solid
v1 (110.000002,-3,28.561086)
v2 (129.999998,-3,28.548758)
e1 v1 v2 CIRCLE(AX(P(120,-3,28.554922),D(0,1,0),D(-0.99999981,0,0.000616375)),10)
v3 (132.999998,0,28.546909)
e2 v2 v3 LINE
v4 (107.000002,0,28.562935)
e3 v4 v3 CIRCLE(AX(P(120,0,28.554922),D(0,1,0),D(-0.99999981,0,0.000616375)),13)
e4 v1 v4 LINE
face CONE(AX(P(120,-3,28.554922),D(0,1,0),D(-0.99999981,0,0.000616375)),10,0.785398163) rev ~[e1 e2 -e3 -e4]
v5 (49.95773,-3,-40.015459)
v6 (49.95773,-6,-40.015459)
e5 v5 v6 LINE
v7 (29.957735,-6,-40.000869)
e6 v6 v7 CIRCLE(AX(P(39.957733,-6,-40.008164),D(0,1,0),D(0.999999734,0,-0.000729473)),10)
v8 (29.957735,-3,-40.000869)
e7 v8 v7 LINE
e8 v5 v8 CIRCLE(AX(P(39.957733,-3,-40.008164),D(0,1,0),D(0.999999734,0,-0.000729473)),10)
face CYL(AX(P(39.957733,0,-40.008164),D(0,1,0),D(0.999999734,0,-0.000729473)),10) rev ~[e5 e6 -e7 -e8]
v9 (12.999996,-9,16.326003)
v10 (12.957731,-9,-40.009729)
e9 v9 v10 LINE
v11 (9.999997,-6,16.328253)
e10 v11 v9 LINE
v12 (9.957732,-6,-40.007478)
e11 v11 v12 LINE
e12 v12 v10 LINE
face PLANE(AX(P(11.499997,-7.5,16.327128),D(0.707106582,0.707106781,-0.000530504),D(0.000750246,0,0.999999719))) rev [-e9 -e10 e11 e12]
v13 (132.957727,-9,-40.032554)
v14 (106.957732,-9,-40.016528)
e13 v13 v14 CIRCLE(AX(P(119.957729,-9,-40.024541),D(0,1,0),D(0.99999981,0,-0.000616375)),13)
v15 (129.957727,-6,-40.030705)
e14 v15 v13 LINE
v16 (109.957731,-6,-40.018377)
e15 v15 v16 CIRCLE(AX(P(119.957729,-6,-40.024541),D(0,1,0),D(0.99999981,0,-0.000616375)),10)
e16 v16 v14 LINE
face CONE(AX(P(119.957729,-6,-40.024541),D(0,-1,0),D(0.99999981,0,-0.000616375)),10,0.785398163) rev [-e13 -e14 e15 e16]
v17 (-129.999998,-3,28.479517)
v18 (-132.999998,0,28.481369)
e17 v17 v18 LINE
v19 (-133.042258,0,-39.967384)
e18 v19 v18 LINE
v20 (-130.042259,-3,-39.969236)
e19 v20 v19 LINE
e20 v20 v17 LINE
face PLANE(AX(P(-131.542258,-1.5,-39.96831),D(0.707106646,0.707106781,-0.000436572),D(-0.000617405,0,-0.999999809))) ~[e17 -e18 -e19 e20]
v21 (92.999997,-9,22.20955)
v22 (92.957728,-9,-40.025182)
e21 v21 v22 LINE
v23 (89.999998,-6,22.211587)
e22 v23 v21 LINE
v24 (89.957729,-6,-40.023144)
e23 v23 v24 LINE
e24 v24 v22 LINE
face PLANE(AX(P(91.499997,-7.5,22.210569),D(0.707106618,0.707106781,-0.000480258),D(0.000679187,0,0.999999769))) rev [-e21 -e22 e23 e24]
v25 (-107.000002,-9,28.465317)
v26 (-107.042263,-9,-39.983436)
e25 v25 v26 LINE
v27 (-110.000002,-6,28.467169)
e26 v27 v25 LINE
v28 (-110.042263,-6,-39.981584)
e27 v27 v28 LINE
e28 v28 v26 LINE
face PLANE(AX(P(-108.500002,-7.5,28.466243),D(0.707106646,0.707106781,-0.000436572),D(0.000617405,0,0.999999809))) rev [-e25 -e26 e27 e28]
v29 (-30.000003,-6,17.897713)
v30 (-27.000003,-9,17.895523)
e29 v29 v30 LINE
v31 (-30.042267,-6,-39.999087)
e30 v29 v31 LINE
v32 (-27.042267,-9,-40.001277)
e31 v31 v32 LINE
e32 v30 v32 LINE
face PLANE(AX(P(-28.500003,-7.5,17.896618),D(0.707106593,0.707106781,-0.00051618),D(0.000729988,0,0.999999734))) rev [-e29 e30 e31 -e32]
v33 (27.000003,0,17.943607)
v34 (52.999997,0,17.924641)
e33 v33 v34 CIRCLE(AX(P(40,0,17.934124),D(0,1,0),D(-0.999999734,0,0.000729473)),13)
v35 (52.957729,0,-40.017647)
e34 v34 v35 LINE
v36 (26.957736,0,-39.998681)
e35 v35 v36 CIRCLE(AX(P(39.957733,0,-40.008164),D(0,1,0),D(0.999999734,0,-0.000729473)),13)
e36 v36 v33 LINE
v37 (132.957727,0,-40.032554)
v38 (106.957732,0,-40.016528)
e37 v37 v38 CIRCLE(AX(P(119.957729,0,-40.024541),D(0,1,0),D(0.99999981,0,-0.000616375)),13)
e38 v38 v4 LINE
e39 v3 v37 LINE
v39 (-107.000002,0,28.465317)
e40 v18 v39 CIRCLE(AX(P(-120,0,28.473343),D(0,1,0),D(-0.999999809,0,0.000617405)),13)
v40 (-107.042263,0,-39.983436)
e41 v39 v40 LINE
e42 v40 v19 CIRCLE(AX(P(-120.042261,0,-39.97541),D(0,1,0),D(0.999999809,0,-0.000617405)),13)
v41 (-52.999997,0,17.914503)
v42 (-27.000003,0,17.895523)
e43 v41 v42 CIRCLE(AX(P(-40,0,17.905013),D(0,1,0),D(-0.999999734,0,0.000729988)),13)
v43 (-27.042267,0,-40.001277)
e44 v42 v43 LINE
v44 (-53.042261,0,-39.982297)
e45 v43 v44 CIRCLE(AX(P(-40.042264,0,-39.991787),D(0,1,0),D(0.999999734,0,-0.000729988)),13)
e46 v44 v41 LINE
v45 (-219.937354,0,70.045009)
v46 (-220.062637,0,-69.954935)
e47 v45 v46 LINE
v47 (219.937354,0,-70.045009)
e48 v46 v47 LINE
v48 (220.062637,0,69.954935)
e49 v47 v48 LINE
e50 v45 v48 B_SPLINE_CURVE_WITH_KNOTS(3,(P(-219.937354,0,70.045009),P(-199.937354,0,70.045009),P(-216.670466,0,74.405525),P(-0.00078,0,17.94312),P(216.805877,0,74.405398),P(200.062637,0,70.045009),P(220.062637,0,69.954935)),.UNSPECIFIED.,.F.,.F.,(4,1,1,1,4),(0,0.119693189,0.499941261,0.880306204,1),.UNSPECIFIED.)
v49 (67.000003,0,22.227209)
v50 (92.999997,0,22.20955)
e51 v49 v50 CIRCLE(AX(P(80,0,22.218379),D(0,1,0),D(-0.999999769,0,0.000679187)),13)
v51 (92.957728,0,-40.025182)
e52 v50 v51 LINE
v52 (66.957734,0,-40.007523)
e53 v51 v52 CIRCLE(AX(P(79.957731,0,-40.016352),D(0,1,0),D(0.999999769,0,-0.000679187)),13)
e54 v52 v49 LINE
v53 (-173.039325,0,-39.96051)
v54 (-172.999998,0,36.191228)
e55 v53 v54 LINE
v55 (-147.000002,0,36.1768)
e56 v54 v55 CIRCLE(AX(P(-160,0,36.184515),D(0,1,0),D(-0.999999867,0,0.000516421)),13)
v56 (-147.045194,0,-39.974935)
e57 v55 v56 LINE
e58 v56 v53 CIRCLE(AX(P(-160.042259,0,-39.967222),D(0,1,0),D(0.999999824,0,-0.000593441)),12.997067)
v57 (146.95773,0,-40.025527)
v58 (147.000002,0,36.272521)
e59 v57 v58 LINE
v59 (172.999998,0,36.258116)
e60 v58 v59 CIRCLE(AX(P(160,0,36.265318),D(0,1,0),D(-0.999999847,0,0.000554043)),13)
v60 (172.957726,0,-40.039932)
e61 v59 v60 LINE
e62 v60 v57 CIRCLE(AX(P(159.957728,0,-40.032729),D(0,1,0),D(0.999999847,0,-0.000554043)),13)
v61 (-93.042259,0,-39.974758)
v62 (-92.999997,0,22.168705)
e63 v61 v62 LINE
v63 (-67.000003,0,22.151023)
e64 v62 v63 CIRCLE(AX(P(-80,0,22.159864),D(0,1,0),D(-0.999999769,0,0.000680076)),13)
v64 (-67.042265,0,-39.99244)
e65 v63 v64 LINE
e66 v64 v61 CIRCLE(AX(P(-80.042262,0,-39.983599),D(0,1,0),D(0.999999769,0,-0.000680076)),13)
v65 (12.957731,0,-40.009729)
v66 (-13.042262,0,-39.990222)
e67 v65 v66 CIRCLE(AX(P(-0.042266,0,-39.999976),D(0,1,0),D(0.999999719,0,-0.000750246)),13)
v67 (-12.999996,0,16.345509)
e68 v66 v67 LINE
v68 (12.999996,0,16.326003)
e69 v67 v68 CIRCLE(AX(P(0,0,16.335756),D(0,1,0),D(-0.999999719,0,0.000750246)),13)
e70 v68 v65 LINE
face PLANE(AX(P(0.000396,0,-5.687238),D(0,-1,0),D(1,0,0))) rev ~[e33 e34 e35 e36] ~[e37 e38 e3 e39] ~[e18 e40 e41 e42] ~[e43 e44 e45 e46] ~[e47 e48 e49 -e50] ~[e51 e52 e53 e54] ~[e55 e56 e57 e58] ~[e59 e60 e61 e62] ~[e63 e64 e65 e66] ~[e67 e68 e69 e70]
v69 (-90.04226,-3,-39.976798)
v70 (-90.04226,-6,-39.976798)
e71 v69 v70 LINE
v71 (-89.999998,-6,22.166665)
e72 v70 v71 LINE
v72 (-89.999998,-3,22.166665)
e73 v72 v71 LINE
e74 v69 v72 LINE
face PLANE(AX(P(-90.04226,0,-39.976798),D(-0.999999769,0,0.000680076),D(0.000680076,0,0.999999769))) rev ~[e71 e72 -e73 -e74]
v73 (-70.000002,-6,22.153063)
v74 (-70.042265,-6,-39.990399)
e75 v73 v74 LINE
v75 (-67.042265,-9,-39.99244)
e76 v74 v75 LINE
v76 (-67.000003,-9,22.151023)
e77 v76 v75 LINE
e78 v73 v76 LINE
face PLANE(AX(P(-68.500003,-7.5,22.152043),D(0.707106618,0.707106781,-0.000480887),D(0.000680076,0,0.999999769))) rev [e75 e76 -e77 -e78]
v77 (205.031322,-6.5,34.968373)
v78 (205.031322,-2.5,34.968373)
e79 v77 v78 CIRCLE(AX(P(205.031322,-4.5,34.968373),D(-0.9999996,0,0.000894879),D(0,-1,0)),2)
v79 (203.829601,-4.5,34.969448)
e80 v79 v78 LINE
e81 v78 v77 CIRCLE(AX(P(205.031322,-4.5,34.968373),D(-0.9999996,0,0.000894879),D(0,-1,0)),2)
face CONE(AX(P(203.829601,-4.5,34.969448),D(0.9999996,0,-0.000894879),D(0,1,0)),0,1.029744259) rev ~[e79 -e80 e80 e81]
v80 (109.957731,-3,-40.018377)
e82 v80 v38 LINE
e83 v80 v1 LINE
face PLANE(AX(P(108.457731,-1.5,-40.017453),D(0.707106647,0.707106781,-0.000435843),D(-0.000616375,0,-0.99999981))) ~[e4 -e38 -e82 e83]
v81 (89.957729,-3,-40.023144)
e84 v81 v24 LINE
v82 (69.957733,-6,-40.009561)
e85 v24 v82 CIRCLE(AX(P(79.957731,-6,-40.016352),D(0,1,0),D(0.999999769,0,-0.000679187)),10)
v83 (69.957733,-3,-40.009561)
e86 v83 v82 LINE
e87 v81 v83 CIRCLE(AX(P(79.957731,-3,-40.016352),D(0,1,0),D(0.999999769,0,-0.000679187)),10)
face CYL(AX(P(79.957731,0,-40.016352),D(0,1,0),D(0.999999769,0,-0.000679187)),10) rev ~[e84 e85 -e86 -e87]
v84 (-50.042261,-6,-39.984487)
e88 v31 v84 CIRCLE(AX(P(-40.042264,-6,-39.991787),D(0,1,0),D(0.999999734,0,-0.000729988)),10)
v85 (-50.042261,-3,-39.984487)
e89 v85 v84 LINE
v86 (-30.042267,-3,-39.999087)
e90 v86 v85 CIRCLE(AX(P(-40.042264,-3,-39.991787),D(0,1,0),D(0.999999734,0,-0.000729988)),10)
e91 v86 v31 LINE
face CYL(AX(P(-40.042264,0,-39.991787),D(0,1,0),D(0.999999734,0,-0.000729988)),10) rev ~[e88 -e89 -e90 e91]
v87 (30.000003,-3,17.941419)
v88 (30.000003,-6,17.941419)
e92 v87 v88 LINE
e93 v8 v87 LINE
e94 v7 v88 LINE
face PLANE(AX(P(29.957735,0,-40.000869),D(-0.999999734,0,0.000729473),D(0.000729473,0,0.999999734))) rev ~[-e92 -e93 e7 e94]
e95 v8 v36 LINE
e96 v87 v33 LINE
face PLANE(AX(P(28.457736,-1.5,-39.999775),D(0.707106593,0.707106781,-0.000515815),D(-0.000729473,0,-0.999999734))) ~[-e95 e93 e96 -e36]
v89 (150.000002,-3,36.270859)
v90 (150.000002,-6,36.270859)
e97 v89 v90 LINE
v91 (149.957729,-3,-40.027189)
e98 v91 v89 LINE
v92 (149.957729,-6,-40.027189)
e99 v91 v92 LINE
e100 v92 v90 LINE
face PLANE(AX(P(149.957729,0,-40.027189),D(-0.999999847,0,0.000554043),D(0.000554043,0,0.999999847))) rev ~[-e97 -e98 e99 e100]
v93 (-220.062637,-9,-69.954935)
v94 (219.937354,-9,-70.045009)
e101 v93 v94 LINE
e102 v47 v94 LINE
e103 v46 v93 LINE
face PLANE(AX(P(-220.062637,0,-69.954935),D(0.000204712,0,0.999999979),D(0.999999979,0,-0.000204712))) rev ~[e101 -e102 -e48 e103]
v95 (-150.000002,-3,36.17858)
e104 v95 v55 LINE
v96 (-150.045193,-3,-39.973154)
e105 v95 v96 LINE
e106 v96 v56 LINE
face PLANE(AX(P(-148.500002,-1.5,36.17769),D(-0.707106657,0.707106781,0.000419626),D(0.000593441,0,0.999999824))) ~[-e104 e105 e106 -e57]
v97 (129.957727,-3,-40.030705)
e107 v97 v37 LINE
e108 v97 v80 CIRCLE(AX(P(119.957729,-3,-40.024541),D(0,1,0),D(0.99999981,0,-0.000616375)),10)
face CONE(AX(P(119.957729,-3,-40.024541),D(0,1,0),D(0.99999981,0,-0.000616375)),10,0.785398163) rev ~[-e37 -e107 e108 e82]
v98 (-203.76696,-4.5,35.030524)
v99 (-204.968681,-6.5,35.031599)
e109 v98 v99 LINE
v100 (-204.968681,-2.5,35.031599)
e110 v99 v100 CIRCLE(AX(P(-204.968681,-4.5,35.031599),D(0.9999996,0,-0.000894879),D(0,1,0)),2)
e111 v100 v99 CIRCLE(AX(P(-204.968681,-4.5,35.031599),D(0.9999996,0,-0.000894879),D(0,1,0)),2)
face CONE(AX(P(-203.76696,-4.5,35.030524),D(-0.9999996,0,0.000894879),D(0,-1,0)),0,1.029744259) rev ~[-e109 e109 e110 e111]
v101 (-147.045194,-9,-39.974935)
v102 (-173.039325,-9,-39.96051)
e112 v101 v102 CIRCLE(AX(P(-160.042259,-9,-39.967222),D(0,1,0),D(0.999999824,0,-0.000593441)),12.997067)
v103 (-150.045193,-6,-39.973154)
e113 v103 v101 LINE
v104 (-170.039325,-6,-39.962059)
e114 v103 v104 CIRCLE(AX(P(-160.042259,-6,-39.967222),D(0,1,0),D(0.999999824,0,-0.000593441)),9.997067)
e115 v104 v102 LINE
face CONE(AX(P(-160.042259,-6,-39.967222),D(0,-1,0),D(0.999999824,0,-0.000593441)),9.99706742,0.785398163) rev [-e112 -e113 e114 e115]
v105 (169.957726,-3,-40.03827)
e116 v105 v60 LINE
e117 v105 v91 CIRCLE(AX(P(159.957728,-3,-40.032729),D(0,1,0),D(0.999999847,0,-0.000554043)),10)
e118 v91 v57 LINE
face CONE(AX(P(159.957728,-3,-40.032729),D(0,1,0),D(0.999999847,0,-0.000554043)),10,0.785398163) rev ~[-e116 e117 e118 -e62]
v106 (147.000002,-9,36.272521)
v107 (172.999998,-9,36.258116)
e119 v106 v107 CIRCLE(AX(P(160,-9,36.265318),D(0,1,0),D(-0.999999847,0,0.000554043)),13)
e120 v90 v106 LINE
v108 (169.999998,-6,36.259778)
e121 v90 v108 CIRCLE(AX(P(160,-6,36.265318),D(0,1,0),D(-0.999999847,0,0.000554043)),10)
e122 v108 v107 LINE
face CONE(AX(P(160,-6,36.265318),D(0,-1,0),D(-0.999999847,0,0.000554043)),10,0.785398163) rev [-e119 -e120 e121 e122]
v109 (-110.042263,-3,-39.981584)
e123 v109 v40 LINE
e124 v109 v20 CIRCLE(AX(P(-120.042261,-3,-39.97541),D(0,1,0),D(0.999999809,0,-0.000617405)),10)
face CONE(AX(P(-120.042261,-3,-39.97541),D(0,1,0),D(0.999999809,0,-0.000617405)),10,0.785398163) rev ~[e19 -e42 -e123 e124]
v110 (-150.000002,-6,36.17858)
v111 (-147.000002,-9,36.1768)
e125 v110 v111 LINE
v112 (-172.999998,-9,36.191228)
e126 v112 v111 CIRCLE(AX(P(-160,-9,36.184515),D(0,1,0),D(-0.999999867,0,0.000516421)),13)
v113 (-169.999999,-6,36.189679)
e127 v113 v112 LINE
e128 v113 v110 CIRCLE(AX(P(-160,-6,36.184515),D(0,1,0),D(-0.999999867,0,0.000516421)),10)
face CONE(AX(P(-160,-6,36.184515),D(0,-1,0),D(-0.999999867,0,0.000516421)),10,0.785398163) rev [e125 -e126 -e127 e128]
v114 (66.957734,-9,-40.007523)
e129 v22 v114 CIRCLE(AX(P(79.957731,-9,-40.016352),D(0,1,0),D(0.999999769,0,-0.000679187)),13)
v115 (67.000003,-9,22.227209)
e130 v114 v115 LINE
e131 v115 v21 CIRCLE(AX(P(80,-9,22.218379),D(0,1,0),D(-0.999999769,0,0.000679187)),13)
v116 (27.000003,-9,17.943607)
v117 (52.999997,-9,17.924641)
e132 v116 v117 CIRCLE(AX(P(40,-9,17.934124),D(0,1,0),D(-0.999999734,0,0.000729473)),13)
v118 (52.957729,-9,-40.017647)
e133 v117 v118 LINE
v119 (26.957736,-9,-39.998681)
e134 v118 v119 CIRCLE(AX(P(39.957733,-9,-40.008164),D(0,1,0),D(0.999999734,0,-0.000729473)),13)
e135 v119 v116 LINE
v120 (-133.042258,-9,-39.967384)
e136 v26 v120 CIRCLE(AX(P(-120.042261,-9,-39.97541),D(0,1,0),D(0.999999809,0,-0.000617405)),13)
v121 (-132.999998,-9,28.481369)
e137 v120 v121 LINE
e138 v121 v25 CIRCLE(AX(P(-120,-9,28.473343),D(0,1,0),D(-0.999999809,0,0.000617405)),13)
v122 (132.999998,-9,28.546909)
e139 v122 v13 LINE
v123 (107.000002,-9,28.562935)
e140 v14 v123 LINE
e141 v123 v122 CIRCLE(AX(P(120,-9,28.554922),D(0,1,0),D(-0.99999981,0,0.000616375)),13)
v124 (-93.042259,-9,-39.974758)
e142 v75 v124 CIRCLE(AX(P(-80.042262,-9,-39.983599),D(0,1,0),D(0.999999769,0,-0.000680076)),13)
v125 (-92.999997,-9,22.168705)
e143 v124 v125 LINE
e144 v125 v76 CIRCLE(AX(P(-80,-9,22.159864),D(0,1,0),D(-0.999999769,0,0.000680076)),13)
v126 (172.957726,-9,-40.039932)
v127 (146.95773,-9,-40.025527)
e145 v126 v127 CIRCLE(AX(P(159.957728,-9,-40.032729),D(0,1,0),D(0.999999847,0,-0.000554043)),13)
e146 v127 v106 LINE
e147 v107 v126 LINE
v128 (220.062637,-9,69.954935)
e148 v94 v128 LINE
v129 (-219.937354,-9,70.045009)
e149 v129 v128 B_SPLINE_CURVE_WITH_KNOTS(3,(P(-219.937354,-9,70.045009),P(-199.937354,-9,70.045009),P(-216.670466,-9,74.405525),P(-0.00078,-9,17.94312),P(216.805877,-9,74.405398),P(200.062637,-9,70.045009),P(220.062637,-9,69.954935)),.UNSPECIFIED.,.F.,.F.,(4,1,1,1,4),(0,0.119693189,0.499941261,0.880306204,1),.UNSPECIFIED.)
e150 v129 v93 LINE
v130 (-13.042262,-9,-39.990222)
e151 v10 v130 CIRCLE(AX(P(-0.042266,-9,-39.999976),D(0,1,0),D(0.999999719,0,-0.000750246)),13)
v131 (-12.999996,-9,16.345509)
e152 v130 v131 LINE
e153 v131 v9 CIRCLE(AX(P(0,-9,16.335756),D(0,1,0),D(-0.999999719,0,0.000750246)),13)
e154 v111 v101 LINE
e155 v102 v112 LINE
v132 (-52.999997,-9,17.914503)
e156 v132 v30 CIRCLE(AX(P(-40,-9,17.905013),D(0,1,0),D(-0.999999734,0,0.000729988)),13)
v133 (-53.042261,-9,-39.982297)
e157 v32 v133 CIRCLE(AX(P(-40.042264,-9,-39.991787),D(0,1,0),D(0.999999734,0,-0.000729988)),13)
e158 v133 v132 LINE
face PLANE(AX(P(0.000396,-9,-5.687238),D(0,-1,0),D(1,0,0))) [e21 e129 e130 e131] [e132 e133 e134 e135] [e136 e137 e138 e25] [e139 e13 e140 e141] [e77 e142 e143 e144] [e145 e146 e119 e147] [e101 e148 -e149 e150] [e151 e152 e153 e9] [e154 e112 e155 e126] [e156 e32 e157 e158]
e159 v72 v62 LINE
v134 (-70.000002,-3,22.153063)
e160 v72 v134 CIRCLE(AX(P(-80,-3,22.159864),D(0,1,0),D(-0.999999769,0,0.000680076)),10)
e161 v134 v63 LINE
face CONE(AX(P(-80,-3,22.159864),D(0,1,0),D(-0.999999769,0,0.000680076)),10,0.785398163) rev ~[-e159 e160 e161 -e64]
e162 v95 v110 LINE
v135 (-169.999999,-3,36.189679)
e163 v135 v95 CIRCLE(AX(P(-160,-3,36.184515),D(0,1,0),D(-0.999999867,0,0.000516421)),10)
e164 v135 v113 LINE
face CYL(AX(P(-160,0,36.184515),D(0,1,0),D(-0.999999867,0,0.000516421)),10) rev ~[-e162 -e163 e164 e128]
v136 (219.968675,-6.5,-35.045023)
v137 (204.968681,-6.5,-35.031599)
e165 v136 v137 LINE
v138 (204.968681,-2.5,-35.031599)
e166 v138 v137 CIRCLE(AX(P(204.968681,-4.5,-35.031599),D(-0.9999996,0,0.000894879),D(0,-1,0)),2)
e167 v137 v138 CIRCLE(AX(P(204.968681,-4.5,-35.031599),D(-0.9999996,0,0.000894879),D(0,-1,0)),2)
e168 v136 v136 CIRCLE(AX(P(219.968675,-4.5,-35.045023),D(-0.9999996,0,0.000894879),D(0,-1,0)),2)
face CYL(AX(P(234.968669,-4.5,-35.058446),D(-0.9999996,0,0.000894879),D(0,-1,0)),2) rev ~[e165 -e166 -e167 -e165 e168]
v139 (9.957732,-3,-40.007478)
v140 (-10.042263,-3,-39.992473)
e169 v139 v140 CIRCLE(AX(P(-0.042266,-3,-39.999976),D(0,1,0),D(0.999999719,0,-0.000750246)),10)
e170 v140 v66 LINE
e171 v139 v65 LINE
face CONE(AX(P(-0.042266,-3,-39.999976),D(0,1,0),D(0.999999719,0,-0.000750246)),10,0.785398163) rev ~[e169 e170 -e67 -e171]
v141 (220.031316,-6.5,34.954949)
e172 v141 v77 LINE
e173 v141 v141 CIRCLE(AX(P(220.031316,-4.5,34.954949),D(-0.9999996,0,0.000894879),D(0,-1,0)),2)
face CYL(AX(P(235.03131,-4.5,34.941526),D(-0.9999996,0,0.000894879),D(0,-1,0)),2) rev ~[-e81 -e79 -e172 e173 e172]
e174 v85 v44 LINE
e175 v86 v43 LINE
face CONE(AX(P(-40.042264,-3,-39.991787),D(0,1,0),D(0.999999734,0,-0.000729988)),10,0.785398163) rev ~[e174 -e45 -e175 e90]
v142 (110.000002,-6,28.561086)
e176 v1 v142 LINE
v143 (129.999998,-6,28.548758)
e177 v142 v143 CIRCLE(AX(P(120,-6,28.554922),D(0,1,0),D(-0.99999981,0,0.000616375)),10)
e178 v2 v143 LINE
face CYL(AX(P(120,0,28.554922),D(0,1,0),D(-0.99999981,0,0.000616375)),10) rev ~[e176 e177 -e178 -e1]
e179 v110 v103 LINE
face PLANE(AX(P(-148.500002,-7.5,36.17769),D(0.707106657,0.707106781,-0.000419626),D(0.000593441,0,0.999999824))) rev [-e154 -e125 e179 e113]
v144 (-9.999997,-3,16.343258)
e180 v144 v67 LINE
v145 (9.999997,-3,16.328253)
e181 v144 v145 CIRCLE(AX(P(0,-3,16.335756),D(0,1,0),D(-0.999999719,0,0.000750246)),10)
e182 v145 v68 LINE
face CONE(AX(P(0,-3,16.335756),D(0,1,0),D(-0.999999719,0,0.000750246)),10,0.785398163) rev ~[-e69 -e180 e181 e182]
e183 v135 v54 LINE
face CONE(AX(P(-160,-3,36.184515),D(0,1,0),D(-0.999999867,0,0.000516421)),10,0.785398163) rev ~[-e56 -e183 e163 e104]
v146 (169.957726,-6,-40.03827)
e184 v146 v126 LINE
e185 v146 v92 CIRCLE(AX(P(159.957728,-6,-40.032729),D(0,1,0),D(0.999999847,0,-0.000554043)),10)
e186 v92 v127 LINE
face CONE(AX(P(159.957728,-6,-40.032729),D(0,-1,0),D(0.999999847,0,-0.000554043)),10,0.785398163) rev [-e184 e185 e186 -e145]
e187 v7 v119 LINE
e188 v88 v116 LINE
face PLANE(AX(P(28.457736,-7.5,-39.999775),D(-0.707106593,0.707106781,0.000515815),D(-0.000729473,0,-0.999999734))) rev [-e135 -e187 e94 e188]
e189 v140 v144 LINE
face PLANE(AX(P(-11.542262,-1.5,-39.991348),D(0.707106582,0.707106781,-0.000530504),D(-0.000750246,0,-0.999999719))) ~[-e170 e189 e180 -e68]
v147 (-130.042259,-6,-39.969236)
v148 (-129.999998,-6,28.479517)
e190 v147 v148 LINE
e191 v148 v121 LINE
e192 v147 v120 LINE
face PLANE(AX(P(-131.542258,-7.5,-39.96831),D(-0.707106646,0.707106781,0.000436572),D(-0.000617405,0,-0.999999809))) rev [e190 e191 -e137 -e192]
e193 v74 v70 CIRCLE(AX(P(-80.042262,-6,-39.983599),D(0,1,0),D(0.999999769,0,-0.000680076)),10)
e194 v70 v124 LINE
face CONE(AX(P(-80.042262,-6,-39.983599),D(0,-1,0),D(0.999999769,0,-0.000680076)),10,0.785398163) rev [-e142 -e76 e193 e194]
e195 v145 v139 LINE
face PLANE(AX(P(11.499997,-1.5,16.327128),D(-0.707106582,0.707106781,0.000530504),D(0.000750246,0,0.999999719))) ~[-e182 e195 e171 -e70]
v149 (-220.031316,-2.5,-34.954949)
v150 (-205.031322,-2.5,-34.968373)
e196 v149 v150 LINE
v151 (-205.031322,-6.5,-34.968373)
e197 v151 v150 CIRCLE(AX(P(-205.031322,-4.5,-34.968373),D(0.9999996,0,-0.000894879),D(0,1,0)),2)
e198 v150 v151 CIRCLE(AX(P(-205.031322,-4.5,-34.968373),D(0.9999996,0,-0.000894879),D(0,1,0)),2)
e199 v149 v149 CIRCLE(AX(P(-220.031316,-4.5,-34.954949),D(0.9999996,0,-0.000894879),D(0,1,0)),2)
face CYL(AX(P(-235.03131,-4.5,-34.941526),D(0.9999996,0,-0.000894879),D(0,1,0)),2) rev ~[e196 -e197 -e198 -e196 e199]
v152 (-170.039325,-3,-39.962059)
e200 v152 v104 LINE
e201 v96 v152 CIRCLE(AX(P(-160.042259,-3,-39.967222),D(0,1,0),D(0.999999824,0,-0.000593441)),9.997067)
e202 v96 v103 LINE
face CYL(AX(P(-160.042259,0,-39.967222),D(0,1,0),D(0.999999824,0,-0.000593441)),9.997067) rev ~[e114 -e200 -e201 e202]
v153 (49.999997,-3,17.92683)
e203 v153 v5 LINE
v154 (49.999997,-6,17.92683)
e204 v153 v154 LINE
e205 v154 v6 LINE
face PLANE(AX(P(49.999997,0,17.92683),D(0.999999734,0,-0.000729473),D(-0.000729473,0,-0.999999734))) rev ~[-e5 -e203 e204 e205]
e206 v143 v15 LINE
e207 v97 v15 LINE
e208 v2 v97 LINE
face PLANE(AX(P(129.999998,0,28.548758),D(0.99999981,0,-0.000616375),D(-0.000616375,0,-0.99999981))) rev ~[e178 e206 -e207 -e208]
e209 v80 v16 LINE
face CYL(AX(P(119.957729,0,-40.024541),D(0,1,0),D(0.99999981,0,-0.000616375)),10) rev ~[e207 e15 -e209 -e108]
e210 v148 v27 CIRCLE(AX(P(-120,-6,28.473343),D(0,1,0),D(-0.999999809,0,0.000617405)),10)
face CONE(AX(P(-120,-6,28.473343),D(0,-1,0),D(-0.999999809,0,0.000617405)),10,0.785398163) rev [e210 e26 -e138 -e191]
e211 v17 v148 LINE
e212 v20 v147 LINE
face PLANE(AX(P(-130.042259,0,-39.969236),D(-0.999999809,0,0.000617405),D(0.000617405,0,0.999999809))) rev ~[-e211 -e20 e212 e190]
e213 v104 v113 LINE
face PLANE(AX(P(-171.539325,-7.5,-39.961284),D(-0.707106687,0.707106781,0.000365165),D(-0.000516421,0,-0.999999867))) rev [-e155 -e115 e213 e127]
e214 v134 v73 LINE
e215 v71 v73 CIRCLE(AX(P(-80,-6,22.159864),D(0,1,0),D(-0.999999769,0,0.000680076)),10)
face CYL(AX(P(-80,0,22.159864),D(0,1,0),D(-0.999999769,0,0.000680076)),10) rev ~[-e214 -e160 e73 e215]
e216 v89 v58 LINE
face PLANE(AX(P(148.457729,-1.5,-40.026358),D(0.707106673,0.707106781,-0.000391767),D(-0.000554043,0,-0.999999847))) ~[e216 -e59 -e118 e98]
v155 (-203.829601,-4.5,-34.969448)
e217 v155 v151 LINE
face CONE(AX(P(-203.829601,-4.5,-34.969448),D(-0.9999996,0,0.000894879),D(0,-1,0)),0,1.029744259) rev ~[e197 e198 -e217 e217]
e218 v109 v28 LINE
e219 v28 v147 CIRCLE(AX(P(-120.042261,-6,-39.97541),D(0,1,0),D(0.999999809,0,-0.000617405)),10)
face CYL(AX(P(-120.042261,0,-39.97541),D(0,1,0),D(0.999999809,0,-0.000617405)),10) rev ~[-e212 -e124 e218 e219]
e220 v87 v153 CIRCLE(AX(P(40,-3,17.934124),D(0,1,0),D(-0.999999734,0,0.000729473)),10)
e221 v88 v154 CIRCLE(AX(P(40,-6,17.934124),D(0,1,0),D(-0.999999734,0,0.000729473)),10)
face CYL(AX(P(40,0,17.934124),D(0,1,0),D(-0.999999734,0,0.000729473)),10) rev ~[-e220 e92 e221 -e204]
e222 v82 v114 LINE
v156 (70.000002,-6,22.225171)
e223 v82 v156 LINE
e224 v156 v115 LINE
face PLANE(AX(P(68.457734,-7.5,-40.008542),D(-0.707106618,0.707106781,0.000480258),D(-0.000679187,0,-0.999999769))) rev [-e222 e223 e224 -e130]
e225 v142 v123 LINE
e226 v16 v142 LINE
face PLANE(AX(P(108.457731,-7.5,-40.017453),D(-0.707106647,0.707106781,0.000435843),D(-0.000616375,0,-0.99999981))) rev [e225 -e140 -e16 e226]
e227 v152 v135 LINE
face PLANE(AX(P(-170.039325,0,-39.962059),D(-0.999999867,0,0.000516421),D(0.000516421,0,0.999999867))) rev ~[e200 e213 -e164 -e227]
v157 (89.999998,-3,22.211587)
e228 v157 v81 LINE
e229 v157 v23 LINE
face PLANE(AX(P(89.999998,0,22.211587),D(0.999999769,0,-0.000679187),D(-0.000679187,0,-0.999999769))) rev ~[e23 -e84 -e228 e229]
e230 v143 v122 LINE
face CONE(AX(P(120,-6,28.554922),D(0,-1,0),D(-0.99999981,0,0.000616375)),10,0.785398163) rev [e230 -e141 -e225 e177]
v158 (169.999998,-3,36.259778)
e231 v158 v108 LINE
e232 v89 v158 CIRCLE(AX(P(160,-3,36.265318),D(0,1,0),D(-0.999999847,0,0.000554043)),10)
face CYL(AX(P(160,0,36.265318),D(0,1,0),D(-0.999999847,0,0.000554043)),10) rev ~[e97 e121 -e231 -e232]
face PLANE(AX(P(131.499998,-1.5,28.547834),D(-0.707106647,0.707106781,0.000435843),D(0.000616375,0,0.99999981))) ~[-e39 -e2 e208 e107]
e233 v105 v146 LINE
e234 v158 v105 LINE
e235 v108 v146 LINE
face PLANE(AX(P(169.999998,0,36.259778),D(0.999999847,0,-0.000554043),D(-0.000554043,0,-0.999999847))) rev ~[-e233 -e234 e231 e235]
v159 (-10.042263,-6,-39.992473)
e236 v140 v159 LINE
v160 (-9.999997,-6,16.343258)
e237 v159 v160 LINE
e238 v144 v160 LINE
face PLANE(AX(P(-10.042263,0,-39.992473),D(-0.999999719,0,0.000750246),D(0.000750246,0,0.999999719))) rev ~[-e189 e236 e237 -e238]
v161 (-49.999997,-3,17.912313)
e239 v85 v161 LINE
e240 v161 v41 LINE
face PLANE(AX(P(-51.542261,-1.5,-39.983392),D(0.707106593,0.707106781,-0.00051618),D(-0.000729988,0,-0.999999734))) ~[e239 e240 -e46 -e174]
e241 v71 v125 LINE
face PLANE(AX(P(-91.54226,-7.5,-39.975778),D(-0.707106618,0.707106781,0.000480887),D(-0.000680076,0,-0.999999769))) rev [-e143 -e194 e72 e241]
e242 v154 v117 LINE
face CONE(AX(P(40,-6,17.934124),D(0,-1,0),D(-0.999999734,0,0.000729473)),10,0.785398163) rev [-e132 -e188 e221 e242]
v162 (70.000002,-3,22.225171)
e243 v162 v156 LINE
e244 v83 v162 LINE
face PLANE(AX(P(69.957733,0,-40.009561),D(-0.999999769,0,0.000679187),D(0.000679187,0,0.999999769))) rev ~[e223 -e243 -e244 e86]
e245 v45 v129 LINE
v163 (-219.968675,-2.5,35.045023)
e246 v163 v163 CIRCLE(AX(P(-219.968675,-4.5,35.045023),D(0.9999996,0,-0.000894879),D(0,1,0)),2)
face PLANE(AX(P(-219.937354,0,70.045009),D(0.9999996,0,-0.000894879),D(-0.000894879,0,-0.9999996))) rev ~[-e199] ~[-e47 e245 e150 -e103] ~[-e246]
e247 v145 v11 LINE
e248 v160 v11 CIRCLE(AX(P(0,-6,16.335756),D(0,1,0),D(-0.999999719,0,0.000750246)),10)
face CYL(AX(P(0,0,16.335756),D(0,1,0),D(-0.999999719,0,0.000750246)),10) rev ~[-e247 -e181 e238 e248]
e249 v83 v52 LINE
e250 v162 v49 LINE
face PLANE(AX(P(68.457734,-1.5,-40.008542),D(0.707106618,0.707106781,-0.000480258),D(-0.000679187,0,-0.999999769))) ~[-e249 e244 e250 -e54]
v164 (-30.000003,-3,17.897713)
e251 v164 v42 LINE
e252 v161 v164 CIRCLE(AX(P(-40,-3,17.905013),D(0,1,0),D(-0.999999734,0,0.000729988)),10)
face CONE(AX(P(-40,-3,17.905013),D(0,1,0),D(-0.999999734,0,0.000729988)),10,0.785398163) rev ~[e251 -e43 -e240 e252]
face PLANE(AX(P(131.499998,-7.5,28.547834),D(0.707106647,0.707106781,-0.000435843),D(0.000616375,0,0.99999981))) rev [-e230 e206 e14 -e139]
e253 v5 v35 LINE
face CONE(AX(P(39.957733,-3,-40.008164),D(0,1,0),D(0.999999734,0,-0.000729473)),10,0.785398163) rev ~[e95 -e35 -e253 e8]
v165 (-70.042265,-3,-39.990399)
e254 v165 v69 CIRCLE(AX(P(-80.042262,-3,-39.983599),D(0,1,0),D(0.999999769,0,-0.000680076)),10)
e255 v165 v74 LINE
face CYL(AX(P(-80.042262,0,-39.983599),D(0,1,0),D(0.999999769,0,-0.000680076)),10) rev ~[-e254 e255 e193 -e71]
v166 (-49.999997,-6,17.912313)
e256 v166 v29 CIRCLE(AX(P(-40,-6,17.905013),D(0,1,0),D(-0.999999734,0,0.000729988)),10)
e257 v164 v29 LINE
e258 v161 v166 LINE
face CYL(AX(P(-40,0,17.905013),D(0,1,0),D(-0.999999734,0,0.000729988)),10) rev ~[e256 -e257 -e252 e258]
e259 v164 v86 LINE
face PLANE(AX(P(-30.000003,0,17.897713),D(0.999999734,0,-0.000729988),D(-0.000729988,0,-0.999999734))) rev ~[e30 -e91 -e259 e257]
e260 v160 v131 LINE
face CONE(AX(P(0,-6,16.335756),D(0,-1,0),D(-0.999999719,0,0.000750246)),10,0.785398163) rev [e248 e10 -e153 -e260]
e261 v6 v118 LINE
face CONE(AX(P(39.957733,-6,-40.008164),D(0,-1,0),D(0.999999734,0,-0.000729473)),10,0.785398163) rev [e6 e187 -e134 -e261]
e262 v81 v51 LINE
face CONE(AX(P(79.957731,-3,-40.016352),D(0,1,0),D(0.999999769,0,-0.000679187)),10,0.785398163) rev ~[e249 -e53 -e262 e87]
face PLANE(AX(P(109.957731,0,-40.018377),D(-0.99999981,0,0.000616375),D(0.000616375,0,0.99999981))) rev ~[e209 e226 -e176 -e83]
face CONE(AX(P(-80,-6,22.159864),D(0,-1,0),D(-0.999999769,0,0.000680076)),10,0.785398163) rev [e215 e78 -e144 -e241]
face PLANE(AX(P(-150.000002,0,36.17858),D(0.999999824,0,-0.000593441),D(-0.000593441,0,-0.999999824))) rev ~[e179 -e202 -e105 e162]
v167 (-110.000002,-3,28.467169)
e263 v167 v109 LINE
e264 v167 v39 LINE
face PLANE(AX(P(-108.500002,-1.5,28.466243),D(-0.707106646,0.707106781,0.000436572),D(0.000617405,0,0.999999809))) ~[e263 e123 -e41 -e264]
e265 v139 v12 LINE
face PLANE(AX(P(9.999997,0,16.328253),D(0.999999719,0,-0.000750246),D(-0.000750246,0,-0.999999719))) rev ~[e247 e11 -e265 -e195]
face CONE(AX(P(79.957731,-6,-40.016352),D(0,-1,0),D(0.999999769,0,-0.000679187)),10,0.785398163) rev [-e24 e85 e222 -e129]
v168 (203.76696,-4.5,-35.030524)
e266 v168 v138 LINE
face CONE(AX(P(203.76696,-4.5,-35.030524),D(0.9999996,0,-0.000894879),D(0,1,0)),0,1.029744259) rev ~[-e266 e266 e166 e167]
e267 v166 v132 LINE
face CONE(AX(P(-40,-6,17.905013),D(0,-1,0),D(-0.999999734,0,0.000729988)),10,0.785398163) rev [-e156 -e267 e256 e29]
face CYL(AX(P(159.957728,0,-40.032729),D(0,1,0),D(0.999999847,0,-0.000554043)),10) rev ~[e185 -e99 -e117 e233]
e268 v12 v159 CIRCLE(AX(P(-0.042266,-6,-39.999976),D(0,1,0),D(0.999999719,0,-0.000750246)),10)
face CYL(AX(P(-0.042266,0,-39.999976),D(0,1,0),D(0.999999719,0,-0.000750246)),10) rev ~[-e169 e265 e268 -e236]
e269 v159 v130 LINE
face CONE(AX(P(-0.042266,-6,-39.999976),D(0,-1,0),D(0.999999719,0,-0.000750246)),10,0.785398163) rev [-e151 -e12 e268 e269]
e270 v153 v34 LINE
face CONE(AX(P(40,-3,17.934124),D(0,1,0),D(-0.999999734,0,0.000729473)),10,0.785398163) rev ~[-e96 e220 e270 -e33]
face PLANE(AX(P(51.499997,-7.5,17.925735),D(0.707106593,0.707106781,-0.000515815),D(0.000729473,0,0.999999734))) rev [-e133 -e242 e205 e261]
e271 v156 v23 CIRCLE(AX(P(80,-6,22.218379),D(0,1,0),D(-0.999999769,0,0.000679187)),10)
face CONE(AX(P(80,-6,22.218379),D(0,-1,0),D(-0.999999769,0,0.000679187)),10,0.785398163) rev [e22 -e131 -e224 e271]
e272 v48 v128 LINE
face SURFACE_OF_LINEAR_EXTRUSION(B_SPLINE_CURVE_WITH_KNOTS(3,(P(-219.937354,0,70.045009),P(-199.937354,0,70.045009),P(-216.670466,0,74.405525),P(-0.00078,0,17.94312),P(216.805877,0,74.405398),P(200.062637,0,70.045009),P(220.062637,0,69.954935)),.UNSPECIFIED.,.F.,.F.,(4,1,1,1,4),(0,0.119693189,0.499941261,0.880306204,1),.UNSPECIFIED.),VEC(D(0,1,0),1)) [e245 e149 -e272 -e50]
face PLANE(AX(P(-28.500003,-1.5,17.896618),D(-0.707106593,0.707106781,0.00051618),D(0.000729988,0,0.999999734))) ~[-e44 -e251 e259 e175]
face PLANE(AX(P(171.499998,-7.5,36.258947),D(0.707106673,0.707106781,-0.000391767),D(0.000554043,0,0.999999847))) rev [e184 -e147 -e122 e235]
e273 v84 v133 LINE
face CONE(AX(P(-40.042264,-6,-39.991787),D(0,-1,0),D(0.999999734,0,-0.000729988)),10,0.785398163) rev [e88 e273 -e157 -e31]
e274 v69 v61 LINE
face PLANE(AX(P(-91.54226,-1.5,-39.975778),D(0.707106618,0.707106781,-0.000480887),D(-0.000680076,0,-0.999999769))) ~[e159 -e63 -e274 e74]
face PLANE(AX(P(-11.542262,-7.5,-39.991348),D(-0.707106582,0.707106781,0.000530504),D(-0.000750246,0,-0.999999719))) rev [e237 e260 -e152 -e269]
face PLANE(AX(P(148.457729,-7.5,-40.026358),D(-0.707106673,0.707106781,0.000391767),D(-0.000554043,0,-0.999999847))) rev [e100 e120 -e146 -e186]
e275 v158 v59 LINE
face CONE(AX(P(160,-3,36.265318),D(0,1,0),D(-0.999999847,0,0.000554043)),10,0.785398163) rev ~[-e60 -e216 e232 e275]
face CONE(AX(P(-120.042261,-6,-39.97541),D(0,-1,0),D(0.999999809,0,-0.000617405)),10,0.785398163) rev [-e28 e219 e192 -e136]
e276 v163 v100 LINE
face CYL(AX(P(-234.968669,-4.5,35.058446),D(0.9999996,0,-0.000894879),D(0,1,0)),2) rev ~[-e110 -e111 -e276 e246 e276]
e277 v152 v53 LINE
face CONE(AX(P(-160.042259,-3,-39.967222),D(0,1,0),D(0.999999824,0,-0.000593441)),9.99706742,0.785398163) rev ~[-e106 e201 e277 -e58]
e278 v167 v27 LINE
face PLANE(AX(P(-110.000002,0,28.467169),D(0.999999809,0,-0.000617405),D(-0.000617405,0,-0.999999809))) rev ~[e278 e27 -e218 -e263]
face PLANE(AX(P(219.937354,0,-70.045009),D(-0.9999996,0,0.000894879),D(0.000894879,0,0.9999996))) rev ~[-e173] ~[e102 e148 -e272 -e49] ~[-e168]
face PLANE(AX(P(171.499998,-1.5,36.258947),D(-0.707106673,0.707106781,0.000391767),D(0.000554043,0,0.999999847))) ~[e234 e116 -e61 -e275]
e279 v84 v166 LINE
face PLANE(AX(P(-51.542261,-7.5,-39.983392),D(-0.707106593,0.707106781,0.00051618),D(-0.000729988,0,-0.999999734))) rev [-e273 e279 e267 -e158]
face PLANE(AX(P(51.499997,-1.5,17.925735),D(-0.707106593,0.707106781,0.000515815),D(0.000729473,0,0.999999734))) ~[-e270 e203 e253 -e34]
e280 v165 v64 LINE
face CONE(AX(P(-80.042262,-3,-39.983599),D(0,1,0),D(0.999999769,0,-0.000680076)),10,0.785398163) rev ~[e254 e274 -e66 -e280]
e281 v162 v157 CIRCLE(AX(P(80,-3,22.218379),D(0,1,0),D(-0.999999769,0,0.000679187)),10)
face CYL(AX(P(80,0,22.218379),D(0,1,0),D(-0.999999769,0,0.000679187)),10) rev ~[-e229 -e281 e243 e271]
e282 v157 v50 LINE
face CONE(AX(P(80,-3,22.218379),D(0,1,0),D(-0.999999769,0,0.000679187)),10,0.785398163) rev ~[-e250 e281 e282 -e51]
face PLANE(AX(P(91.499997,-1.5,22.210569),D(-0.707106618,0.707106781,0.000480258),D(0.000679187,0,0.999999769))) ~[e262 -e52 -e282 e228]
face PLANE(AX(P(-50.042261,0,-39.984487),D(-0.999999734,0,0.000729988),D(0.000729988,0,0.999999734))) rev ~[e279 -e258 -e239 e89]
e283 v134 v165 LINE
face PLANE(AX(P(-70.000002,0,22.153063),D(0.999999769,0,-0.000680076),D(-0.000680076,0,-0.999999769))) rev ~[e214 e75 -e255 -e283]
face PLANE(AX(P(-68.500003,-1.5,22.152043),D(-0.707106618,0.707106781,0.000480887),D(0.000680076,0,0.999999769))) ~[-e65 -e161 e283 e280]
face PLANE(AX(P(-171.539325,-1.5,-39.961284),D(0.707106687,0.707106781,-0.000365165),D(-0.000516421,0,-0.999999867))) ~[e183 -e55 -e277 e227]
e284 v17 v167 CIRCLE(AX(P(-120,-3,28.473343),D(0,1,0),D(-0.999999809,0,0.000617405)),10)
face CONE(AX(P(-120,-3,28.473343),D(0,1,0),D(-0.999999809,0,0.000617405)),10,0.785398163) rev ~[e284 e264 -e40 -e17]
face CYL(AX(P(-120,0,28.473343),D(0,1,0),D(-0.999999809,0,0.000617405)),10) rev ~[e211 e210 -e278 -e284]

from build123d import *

# Parameters (mm, degrees)
F1_DEPTH = 9
F2_SIZE  = 3
F4_D     = 4
F4_DEPTH = 15
F4_TIP   = 1.2017212381
F6_D     = 4
F6_DEPTH = 15
F6_TIP   = 1.2017212381


with BuildPart() as f1:
    # F0 (on Front) → F1 (new body)
    with BuildSketch(Plane.XZ):
        with BuildLine():
            Line((-220.0626368999, -69.9549353437), (219.9373538806, -70.0450085997))
            Line((219.9373538806, -70.0450085997), (220.0626368999, 69.9549353437))
            add(Edge.make_bspline(
                [(-219.9373538806, 70.0450085997), (-199.9373538806, 70.0450085997), (-216.6704655541, 74.4055250187), (-0.0007798551, 17.9431203918), (216.8058766507, 74.4053980204), (200.0626368999, 70.0450085992), (220.0626368999, 69.9549353437)],
                knots=[0, 0, 0, 0, 0.1196931891, 0.4999412608, 0.880306204, 1, 1, 1, 1], degree=3))
            Line((-219.9373538806, 70.0450085997), (-220.0626368999, -69.9549353437))
        make_face()
        with BuildLine():
            Line((-170.0393250498, -39.9620589055), (-169.9999986665, 36.1896787821))
            ThreePointArc((-169.9999986665, 36.1896787821), (-159.9944506903, 46.1845130295), (-150.0000017609, 36.1785801628))
            Line((-150.0000017609, 36.1785801628), (-150.0451933034, -39.9731542701))
            ThreePointArc((-150.0451933034, -39.9731542701), (-160.0478066453, -49.9642874845), (-170.0393250498, -39.9620589055))
        make_face(mode=Mode.SUBTRACT)
        with BuildLine():
            Line((-130.0422587333, -39.9692360273), (-129.9999980941, 28.4795169333))
            ThreePointArc((-129.9999980941, 28.4795169333), (-119.9938259458, 38.4733409731), (-110.0000019059, 28.4671688248))
            Line((-110.0000019059, 28.4671688248), (-110.0422625452, -39.9815841357))
            ThreePointArc((-110.0422625452, -39.9815841357), (-120.0484346935, -49.9754081755), (-130.0422587333, -39.9692360273))
        make_face(mode=Mode.SUBTRACT)
        with BuildLine():
            Line((-90.042260003, -39.9767977945), (-89.9999976875, 22.1666648469))
            ThreePointArc((-89.9999976875, 22.1666648469), (-79.9931992354, 32.1598617699), (-70.0000023125, 22.1530633178))
            Line((-70.0000023125, 22.1530633178), (-70.0422646281, -39.9903993236))
            ThreePointArc((-70.0422646281, -39.9903993236), (-80.0490630801, -49.9835962466), (-90.042260003, -39.9767977945))
        make_face(mode=Mode.SUBTRACT)
        with BuildLine():
            Line((-50.0422613274, -39.9844871548), (-49.9999973356, 17.9123129962))
            ThreePointArc((-49.9999973356, 17.9123129962), (-39.9927001181, 27.9050104499), (-30.0000026644, 17.8977132324))
            Line((-30.0000026644, 17.8977132324), (-30.0422666562, -39.9990869186))
            ThreePointArc((-30.0422666562, -39.9990869186), (-40.0495638737, -49.9917843723), (-50.0422613274, -39.9844871548))
        make_face(mode=Mode.SUBTRACT)
        with BuildLine():
            Line((-10.0422628538, -39.9924730545), (-9.9999971857, 16.3432583937))
            ThreePointArc((-9.9999971857, 16.3432583937), (0.0075024598, 26.3357531195), (9.9999971857, 16.328253474))
            Line((9.9999971857, 16.328253474), (9.9577315176, -40.0074779741))
            ThreePointArc((9.9577315176, -40.0074779741), (-0.0497681279, -49.9999726999), (-10.0422628538, -39.9924730545))
        make_face(mode=Mode.SUBTRACT)
        with BuildLine():
            Line((29.9577353163, -40.0008692622), (30.0000026607, 17.9414189994))
            ThreePointArc((30.0000026607, 17.9414189994), (40.0072947297, 27.934121609), (49.9999973393, 17.92682954))
            Line((49.9999973393, 17.92682954), (49.957729995, -40.0154587216))
            ThreePointArc((49.957729995, -40.0154587216), (39.9504379259, -50.0081613312), (29.9577353163, -40.0008692622))
        make_face(mode=Mode.SUBTRACT)
        with BuildLine():
            Line((69.9577332858, -40.0095606011), (70.0000023065, 22.2251711426))
            ThreePointArc((70.0000023065, 22.2251711426), (80.0067918684, 32.2183769677), (89.9999976935, 22.2115874058))
            Line((89.9999976935, 22.2115874058), (89.9577286729, -40.0231443379))
            ThreePointArc((89.9577286729, -40.0231443379), (79.9509391109, -50.016350163), (69.9577332858, -40.0095606011))
        make_face(mode=Mode.SUBTRACT)
        with BuildLine():
            Line((109.9577312027, -40.0183771938), (110.0000018996, 28.5610859215))
            ThreePointArc((110.0000018996, 28.5610859215), (120.0061637533, 38.5549202687), (129.9999981004, 28.548758415))
            Line((129.9999981004, 28.548758415), (129.9577274035, -40.0307047003))
            ThreePointArc((129.9577274035, -40.0307047003), (119.9515655498, -50.0245390475), (109.9577312027, -40.0183771938))
        make_face(mode=Mode.SUBTRACT)
        with BuildLine():
            Line((149.9577291616, -40.0271889989), (150.0000015348, 36.2708587226))
            ThreePointArc((150.0000015348, 36.2708587226), (160.0055404257, 46.2653167621), (169.9999984652, 36.2597778711))
            Line((169.9999984652, 36.2597778711), (169.957726092, -40.0382698504))
            ThreePointArc((169.957726092, -40.0382698504), (159.952187201, -50.0327278899), (149.9577291616, -40.0271889989))
        make_face(mode=Mode.SUBTRACT)
    extrude(amount=F1_DEPTH)

    # F2
    f2_edges = [f1.edges().sort_by_distance(p)[0] for p in [
        (-159.994451, -9, 46.184513),
        (-110.021132, -9, -5.757208),
        (-70.021133, -9, -8.918668),
        (-30.021135, -9, -11.050687),
        (9.978864, -9, -11.839612),
        (49.978864, 0, -11.044315),
        (49.978864, -9, -11.044315),
        (89.978863, 0, -8.905778),
        (89.978863, -9, -8.905778),
        (129.978863, -9, -5.740973),
        (129.978863, 0, -5.740973),
        (149.978865, -9, -1.878165),
        (169.978862, 0, -1.889246),
        (-170.019662, 0, -1.88619),
        (-130.021128, 0, -5.74486),
        (-90.021129, 0, -8.905066),
        (-50.021129, 0, -11.036087),
        (-10.02113, 0, -11.824607),
    ]]
    chamfer(f2_edges, length=F2_SIZE)

    # F4
    with Locations(Plane(origin=(-219.9998595148, 0, 0.1968732692), x_dir=(0, -1, 0), z_dir=(-0.9999995996, 0, 0.0008948787))):
        with Locations((4.5, 34.8481632979), (4.5, -35.1518367021)):
            Hole(F4_D / 2, depth=F4_DEPTH)
            with Locations((0, 0, -(F4_DEPTH + F4_TIP / 2))):  # 118° drill point
                Cone(0, F4_D / 2, F4_TIP, mode=Mode.SUBTRACT)

    # F6
    with Locations(Plane(origin=(219.9998595148, 0, -0.1968732692), x_dir=(0, 1, 0), z_dir=(0.9999995996, 0, -0.0008948787))):
        with Locations((-4.5, 35.1518367021), (-4.5, -34.8481632979)):
            Hole(F6_D / 2, depth=F6_DEPTH)
            with Locations((0, 0, -(F6_DEPTH + F6_TIP / 2))):  # 118° drill point
                Cone(0, F6_D / 2, F6_TIP, mode=Mode.SUBTRACT)


solid = f1.part
